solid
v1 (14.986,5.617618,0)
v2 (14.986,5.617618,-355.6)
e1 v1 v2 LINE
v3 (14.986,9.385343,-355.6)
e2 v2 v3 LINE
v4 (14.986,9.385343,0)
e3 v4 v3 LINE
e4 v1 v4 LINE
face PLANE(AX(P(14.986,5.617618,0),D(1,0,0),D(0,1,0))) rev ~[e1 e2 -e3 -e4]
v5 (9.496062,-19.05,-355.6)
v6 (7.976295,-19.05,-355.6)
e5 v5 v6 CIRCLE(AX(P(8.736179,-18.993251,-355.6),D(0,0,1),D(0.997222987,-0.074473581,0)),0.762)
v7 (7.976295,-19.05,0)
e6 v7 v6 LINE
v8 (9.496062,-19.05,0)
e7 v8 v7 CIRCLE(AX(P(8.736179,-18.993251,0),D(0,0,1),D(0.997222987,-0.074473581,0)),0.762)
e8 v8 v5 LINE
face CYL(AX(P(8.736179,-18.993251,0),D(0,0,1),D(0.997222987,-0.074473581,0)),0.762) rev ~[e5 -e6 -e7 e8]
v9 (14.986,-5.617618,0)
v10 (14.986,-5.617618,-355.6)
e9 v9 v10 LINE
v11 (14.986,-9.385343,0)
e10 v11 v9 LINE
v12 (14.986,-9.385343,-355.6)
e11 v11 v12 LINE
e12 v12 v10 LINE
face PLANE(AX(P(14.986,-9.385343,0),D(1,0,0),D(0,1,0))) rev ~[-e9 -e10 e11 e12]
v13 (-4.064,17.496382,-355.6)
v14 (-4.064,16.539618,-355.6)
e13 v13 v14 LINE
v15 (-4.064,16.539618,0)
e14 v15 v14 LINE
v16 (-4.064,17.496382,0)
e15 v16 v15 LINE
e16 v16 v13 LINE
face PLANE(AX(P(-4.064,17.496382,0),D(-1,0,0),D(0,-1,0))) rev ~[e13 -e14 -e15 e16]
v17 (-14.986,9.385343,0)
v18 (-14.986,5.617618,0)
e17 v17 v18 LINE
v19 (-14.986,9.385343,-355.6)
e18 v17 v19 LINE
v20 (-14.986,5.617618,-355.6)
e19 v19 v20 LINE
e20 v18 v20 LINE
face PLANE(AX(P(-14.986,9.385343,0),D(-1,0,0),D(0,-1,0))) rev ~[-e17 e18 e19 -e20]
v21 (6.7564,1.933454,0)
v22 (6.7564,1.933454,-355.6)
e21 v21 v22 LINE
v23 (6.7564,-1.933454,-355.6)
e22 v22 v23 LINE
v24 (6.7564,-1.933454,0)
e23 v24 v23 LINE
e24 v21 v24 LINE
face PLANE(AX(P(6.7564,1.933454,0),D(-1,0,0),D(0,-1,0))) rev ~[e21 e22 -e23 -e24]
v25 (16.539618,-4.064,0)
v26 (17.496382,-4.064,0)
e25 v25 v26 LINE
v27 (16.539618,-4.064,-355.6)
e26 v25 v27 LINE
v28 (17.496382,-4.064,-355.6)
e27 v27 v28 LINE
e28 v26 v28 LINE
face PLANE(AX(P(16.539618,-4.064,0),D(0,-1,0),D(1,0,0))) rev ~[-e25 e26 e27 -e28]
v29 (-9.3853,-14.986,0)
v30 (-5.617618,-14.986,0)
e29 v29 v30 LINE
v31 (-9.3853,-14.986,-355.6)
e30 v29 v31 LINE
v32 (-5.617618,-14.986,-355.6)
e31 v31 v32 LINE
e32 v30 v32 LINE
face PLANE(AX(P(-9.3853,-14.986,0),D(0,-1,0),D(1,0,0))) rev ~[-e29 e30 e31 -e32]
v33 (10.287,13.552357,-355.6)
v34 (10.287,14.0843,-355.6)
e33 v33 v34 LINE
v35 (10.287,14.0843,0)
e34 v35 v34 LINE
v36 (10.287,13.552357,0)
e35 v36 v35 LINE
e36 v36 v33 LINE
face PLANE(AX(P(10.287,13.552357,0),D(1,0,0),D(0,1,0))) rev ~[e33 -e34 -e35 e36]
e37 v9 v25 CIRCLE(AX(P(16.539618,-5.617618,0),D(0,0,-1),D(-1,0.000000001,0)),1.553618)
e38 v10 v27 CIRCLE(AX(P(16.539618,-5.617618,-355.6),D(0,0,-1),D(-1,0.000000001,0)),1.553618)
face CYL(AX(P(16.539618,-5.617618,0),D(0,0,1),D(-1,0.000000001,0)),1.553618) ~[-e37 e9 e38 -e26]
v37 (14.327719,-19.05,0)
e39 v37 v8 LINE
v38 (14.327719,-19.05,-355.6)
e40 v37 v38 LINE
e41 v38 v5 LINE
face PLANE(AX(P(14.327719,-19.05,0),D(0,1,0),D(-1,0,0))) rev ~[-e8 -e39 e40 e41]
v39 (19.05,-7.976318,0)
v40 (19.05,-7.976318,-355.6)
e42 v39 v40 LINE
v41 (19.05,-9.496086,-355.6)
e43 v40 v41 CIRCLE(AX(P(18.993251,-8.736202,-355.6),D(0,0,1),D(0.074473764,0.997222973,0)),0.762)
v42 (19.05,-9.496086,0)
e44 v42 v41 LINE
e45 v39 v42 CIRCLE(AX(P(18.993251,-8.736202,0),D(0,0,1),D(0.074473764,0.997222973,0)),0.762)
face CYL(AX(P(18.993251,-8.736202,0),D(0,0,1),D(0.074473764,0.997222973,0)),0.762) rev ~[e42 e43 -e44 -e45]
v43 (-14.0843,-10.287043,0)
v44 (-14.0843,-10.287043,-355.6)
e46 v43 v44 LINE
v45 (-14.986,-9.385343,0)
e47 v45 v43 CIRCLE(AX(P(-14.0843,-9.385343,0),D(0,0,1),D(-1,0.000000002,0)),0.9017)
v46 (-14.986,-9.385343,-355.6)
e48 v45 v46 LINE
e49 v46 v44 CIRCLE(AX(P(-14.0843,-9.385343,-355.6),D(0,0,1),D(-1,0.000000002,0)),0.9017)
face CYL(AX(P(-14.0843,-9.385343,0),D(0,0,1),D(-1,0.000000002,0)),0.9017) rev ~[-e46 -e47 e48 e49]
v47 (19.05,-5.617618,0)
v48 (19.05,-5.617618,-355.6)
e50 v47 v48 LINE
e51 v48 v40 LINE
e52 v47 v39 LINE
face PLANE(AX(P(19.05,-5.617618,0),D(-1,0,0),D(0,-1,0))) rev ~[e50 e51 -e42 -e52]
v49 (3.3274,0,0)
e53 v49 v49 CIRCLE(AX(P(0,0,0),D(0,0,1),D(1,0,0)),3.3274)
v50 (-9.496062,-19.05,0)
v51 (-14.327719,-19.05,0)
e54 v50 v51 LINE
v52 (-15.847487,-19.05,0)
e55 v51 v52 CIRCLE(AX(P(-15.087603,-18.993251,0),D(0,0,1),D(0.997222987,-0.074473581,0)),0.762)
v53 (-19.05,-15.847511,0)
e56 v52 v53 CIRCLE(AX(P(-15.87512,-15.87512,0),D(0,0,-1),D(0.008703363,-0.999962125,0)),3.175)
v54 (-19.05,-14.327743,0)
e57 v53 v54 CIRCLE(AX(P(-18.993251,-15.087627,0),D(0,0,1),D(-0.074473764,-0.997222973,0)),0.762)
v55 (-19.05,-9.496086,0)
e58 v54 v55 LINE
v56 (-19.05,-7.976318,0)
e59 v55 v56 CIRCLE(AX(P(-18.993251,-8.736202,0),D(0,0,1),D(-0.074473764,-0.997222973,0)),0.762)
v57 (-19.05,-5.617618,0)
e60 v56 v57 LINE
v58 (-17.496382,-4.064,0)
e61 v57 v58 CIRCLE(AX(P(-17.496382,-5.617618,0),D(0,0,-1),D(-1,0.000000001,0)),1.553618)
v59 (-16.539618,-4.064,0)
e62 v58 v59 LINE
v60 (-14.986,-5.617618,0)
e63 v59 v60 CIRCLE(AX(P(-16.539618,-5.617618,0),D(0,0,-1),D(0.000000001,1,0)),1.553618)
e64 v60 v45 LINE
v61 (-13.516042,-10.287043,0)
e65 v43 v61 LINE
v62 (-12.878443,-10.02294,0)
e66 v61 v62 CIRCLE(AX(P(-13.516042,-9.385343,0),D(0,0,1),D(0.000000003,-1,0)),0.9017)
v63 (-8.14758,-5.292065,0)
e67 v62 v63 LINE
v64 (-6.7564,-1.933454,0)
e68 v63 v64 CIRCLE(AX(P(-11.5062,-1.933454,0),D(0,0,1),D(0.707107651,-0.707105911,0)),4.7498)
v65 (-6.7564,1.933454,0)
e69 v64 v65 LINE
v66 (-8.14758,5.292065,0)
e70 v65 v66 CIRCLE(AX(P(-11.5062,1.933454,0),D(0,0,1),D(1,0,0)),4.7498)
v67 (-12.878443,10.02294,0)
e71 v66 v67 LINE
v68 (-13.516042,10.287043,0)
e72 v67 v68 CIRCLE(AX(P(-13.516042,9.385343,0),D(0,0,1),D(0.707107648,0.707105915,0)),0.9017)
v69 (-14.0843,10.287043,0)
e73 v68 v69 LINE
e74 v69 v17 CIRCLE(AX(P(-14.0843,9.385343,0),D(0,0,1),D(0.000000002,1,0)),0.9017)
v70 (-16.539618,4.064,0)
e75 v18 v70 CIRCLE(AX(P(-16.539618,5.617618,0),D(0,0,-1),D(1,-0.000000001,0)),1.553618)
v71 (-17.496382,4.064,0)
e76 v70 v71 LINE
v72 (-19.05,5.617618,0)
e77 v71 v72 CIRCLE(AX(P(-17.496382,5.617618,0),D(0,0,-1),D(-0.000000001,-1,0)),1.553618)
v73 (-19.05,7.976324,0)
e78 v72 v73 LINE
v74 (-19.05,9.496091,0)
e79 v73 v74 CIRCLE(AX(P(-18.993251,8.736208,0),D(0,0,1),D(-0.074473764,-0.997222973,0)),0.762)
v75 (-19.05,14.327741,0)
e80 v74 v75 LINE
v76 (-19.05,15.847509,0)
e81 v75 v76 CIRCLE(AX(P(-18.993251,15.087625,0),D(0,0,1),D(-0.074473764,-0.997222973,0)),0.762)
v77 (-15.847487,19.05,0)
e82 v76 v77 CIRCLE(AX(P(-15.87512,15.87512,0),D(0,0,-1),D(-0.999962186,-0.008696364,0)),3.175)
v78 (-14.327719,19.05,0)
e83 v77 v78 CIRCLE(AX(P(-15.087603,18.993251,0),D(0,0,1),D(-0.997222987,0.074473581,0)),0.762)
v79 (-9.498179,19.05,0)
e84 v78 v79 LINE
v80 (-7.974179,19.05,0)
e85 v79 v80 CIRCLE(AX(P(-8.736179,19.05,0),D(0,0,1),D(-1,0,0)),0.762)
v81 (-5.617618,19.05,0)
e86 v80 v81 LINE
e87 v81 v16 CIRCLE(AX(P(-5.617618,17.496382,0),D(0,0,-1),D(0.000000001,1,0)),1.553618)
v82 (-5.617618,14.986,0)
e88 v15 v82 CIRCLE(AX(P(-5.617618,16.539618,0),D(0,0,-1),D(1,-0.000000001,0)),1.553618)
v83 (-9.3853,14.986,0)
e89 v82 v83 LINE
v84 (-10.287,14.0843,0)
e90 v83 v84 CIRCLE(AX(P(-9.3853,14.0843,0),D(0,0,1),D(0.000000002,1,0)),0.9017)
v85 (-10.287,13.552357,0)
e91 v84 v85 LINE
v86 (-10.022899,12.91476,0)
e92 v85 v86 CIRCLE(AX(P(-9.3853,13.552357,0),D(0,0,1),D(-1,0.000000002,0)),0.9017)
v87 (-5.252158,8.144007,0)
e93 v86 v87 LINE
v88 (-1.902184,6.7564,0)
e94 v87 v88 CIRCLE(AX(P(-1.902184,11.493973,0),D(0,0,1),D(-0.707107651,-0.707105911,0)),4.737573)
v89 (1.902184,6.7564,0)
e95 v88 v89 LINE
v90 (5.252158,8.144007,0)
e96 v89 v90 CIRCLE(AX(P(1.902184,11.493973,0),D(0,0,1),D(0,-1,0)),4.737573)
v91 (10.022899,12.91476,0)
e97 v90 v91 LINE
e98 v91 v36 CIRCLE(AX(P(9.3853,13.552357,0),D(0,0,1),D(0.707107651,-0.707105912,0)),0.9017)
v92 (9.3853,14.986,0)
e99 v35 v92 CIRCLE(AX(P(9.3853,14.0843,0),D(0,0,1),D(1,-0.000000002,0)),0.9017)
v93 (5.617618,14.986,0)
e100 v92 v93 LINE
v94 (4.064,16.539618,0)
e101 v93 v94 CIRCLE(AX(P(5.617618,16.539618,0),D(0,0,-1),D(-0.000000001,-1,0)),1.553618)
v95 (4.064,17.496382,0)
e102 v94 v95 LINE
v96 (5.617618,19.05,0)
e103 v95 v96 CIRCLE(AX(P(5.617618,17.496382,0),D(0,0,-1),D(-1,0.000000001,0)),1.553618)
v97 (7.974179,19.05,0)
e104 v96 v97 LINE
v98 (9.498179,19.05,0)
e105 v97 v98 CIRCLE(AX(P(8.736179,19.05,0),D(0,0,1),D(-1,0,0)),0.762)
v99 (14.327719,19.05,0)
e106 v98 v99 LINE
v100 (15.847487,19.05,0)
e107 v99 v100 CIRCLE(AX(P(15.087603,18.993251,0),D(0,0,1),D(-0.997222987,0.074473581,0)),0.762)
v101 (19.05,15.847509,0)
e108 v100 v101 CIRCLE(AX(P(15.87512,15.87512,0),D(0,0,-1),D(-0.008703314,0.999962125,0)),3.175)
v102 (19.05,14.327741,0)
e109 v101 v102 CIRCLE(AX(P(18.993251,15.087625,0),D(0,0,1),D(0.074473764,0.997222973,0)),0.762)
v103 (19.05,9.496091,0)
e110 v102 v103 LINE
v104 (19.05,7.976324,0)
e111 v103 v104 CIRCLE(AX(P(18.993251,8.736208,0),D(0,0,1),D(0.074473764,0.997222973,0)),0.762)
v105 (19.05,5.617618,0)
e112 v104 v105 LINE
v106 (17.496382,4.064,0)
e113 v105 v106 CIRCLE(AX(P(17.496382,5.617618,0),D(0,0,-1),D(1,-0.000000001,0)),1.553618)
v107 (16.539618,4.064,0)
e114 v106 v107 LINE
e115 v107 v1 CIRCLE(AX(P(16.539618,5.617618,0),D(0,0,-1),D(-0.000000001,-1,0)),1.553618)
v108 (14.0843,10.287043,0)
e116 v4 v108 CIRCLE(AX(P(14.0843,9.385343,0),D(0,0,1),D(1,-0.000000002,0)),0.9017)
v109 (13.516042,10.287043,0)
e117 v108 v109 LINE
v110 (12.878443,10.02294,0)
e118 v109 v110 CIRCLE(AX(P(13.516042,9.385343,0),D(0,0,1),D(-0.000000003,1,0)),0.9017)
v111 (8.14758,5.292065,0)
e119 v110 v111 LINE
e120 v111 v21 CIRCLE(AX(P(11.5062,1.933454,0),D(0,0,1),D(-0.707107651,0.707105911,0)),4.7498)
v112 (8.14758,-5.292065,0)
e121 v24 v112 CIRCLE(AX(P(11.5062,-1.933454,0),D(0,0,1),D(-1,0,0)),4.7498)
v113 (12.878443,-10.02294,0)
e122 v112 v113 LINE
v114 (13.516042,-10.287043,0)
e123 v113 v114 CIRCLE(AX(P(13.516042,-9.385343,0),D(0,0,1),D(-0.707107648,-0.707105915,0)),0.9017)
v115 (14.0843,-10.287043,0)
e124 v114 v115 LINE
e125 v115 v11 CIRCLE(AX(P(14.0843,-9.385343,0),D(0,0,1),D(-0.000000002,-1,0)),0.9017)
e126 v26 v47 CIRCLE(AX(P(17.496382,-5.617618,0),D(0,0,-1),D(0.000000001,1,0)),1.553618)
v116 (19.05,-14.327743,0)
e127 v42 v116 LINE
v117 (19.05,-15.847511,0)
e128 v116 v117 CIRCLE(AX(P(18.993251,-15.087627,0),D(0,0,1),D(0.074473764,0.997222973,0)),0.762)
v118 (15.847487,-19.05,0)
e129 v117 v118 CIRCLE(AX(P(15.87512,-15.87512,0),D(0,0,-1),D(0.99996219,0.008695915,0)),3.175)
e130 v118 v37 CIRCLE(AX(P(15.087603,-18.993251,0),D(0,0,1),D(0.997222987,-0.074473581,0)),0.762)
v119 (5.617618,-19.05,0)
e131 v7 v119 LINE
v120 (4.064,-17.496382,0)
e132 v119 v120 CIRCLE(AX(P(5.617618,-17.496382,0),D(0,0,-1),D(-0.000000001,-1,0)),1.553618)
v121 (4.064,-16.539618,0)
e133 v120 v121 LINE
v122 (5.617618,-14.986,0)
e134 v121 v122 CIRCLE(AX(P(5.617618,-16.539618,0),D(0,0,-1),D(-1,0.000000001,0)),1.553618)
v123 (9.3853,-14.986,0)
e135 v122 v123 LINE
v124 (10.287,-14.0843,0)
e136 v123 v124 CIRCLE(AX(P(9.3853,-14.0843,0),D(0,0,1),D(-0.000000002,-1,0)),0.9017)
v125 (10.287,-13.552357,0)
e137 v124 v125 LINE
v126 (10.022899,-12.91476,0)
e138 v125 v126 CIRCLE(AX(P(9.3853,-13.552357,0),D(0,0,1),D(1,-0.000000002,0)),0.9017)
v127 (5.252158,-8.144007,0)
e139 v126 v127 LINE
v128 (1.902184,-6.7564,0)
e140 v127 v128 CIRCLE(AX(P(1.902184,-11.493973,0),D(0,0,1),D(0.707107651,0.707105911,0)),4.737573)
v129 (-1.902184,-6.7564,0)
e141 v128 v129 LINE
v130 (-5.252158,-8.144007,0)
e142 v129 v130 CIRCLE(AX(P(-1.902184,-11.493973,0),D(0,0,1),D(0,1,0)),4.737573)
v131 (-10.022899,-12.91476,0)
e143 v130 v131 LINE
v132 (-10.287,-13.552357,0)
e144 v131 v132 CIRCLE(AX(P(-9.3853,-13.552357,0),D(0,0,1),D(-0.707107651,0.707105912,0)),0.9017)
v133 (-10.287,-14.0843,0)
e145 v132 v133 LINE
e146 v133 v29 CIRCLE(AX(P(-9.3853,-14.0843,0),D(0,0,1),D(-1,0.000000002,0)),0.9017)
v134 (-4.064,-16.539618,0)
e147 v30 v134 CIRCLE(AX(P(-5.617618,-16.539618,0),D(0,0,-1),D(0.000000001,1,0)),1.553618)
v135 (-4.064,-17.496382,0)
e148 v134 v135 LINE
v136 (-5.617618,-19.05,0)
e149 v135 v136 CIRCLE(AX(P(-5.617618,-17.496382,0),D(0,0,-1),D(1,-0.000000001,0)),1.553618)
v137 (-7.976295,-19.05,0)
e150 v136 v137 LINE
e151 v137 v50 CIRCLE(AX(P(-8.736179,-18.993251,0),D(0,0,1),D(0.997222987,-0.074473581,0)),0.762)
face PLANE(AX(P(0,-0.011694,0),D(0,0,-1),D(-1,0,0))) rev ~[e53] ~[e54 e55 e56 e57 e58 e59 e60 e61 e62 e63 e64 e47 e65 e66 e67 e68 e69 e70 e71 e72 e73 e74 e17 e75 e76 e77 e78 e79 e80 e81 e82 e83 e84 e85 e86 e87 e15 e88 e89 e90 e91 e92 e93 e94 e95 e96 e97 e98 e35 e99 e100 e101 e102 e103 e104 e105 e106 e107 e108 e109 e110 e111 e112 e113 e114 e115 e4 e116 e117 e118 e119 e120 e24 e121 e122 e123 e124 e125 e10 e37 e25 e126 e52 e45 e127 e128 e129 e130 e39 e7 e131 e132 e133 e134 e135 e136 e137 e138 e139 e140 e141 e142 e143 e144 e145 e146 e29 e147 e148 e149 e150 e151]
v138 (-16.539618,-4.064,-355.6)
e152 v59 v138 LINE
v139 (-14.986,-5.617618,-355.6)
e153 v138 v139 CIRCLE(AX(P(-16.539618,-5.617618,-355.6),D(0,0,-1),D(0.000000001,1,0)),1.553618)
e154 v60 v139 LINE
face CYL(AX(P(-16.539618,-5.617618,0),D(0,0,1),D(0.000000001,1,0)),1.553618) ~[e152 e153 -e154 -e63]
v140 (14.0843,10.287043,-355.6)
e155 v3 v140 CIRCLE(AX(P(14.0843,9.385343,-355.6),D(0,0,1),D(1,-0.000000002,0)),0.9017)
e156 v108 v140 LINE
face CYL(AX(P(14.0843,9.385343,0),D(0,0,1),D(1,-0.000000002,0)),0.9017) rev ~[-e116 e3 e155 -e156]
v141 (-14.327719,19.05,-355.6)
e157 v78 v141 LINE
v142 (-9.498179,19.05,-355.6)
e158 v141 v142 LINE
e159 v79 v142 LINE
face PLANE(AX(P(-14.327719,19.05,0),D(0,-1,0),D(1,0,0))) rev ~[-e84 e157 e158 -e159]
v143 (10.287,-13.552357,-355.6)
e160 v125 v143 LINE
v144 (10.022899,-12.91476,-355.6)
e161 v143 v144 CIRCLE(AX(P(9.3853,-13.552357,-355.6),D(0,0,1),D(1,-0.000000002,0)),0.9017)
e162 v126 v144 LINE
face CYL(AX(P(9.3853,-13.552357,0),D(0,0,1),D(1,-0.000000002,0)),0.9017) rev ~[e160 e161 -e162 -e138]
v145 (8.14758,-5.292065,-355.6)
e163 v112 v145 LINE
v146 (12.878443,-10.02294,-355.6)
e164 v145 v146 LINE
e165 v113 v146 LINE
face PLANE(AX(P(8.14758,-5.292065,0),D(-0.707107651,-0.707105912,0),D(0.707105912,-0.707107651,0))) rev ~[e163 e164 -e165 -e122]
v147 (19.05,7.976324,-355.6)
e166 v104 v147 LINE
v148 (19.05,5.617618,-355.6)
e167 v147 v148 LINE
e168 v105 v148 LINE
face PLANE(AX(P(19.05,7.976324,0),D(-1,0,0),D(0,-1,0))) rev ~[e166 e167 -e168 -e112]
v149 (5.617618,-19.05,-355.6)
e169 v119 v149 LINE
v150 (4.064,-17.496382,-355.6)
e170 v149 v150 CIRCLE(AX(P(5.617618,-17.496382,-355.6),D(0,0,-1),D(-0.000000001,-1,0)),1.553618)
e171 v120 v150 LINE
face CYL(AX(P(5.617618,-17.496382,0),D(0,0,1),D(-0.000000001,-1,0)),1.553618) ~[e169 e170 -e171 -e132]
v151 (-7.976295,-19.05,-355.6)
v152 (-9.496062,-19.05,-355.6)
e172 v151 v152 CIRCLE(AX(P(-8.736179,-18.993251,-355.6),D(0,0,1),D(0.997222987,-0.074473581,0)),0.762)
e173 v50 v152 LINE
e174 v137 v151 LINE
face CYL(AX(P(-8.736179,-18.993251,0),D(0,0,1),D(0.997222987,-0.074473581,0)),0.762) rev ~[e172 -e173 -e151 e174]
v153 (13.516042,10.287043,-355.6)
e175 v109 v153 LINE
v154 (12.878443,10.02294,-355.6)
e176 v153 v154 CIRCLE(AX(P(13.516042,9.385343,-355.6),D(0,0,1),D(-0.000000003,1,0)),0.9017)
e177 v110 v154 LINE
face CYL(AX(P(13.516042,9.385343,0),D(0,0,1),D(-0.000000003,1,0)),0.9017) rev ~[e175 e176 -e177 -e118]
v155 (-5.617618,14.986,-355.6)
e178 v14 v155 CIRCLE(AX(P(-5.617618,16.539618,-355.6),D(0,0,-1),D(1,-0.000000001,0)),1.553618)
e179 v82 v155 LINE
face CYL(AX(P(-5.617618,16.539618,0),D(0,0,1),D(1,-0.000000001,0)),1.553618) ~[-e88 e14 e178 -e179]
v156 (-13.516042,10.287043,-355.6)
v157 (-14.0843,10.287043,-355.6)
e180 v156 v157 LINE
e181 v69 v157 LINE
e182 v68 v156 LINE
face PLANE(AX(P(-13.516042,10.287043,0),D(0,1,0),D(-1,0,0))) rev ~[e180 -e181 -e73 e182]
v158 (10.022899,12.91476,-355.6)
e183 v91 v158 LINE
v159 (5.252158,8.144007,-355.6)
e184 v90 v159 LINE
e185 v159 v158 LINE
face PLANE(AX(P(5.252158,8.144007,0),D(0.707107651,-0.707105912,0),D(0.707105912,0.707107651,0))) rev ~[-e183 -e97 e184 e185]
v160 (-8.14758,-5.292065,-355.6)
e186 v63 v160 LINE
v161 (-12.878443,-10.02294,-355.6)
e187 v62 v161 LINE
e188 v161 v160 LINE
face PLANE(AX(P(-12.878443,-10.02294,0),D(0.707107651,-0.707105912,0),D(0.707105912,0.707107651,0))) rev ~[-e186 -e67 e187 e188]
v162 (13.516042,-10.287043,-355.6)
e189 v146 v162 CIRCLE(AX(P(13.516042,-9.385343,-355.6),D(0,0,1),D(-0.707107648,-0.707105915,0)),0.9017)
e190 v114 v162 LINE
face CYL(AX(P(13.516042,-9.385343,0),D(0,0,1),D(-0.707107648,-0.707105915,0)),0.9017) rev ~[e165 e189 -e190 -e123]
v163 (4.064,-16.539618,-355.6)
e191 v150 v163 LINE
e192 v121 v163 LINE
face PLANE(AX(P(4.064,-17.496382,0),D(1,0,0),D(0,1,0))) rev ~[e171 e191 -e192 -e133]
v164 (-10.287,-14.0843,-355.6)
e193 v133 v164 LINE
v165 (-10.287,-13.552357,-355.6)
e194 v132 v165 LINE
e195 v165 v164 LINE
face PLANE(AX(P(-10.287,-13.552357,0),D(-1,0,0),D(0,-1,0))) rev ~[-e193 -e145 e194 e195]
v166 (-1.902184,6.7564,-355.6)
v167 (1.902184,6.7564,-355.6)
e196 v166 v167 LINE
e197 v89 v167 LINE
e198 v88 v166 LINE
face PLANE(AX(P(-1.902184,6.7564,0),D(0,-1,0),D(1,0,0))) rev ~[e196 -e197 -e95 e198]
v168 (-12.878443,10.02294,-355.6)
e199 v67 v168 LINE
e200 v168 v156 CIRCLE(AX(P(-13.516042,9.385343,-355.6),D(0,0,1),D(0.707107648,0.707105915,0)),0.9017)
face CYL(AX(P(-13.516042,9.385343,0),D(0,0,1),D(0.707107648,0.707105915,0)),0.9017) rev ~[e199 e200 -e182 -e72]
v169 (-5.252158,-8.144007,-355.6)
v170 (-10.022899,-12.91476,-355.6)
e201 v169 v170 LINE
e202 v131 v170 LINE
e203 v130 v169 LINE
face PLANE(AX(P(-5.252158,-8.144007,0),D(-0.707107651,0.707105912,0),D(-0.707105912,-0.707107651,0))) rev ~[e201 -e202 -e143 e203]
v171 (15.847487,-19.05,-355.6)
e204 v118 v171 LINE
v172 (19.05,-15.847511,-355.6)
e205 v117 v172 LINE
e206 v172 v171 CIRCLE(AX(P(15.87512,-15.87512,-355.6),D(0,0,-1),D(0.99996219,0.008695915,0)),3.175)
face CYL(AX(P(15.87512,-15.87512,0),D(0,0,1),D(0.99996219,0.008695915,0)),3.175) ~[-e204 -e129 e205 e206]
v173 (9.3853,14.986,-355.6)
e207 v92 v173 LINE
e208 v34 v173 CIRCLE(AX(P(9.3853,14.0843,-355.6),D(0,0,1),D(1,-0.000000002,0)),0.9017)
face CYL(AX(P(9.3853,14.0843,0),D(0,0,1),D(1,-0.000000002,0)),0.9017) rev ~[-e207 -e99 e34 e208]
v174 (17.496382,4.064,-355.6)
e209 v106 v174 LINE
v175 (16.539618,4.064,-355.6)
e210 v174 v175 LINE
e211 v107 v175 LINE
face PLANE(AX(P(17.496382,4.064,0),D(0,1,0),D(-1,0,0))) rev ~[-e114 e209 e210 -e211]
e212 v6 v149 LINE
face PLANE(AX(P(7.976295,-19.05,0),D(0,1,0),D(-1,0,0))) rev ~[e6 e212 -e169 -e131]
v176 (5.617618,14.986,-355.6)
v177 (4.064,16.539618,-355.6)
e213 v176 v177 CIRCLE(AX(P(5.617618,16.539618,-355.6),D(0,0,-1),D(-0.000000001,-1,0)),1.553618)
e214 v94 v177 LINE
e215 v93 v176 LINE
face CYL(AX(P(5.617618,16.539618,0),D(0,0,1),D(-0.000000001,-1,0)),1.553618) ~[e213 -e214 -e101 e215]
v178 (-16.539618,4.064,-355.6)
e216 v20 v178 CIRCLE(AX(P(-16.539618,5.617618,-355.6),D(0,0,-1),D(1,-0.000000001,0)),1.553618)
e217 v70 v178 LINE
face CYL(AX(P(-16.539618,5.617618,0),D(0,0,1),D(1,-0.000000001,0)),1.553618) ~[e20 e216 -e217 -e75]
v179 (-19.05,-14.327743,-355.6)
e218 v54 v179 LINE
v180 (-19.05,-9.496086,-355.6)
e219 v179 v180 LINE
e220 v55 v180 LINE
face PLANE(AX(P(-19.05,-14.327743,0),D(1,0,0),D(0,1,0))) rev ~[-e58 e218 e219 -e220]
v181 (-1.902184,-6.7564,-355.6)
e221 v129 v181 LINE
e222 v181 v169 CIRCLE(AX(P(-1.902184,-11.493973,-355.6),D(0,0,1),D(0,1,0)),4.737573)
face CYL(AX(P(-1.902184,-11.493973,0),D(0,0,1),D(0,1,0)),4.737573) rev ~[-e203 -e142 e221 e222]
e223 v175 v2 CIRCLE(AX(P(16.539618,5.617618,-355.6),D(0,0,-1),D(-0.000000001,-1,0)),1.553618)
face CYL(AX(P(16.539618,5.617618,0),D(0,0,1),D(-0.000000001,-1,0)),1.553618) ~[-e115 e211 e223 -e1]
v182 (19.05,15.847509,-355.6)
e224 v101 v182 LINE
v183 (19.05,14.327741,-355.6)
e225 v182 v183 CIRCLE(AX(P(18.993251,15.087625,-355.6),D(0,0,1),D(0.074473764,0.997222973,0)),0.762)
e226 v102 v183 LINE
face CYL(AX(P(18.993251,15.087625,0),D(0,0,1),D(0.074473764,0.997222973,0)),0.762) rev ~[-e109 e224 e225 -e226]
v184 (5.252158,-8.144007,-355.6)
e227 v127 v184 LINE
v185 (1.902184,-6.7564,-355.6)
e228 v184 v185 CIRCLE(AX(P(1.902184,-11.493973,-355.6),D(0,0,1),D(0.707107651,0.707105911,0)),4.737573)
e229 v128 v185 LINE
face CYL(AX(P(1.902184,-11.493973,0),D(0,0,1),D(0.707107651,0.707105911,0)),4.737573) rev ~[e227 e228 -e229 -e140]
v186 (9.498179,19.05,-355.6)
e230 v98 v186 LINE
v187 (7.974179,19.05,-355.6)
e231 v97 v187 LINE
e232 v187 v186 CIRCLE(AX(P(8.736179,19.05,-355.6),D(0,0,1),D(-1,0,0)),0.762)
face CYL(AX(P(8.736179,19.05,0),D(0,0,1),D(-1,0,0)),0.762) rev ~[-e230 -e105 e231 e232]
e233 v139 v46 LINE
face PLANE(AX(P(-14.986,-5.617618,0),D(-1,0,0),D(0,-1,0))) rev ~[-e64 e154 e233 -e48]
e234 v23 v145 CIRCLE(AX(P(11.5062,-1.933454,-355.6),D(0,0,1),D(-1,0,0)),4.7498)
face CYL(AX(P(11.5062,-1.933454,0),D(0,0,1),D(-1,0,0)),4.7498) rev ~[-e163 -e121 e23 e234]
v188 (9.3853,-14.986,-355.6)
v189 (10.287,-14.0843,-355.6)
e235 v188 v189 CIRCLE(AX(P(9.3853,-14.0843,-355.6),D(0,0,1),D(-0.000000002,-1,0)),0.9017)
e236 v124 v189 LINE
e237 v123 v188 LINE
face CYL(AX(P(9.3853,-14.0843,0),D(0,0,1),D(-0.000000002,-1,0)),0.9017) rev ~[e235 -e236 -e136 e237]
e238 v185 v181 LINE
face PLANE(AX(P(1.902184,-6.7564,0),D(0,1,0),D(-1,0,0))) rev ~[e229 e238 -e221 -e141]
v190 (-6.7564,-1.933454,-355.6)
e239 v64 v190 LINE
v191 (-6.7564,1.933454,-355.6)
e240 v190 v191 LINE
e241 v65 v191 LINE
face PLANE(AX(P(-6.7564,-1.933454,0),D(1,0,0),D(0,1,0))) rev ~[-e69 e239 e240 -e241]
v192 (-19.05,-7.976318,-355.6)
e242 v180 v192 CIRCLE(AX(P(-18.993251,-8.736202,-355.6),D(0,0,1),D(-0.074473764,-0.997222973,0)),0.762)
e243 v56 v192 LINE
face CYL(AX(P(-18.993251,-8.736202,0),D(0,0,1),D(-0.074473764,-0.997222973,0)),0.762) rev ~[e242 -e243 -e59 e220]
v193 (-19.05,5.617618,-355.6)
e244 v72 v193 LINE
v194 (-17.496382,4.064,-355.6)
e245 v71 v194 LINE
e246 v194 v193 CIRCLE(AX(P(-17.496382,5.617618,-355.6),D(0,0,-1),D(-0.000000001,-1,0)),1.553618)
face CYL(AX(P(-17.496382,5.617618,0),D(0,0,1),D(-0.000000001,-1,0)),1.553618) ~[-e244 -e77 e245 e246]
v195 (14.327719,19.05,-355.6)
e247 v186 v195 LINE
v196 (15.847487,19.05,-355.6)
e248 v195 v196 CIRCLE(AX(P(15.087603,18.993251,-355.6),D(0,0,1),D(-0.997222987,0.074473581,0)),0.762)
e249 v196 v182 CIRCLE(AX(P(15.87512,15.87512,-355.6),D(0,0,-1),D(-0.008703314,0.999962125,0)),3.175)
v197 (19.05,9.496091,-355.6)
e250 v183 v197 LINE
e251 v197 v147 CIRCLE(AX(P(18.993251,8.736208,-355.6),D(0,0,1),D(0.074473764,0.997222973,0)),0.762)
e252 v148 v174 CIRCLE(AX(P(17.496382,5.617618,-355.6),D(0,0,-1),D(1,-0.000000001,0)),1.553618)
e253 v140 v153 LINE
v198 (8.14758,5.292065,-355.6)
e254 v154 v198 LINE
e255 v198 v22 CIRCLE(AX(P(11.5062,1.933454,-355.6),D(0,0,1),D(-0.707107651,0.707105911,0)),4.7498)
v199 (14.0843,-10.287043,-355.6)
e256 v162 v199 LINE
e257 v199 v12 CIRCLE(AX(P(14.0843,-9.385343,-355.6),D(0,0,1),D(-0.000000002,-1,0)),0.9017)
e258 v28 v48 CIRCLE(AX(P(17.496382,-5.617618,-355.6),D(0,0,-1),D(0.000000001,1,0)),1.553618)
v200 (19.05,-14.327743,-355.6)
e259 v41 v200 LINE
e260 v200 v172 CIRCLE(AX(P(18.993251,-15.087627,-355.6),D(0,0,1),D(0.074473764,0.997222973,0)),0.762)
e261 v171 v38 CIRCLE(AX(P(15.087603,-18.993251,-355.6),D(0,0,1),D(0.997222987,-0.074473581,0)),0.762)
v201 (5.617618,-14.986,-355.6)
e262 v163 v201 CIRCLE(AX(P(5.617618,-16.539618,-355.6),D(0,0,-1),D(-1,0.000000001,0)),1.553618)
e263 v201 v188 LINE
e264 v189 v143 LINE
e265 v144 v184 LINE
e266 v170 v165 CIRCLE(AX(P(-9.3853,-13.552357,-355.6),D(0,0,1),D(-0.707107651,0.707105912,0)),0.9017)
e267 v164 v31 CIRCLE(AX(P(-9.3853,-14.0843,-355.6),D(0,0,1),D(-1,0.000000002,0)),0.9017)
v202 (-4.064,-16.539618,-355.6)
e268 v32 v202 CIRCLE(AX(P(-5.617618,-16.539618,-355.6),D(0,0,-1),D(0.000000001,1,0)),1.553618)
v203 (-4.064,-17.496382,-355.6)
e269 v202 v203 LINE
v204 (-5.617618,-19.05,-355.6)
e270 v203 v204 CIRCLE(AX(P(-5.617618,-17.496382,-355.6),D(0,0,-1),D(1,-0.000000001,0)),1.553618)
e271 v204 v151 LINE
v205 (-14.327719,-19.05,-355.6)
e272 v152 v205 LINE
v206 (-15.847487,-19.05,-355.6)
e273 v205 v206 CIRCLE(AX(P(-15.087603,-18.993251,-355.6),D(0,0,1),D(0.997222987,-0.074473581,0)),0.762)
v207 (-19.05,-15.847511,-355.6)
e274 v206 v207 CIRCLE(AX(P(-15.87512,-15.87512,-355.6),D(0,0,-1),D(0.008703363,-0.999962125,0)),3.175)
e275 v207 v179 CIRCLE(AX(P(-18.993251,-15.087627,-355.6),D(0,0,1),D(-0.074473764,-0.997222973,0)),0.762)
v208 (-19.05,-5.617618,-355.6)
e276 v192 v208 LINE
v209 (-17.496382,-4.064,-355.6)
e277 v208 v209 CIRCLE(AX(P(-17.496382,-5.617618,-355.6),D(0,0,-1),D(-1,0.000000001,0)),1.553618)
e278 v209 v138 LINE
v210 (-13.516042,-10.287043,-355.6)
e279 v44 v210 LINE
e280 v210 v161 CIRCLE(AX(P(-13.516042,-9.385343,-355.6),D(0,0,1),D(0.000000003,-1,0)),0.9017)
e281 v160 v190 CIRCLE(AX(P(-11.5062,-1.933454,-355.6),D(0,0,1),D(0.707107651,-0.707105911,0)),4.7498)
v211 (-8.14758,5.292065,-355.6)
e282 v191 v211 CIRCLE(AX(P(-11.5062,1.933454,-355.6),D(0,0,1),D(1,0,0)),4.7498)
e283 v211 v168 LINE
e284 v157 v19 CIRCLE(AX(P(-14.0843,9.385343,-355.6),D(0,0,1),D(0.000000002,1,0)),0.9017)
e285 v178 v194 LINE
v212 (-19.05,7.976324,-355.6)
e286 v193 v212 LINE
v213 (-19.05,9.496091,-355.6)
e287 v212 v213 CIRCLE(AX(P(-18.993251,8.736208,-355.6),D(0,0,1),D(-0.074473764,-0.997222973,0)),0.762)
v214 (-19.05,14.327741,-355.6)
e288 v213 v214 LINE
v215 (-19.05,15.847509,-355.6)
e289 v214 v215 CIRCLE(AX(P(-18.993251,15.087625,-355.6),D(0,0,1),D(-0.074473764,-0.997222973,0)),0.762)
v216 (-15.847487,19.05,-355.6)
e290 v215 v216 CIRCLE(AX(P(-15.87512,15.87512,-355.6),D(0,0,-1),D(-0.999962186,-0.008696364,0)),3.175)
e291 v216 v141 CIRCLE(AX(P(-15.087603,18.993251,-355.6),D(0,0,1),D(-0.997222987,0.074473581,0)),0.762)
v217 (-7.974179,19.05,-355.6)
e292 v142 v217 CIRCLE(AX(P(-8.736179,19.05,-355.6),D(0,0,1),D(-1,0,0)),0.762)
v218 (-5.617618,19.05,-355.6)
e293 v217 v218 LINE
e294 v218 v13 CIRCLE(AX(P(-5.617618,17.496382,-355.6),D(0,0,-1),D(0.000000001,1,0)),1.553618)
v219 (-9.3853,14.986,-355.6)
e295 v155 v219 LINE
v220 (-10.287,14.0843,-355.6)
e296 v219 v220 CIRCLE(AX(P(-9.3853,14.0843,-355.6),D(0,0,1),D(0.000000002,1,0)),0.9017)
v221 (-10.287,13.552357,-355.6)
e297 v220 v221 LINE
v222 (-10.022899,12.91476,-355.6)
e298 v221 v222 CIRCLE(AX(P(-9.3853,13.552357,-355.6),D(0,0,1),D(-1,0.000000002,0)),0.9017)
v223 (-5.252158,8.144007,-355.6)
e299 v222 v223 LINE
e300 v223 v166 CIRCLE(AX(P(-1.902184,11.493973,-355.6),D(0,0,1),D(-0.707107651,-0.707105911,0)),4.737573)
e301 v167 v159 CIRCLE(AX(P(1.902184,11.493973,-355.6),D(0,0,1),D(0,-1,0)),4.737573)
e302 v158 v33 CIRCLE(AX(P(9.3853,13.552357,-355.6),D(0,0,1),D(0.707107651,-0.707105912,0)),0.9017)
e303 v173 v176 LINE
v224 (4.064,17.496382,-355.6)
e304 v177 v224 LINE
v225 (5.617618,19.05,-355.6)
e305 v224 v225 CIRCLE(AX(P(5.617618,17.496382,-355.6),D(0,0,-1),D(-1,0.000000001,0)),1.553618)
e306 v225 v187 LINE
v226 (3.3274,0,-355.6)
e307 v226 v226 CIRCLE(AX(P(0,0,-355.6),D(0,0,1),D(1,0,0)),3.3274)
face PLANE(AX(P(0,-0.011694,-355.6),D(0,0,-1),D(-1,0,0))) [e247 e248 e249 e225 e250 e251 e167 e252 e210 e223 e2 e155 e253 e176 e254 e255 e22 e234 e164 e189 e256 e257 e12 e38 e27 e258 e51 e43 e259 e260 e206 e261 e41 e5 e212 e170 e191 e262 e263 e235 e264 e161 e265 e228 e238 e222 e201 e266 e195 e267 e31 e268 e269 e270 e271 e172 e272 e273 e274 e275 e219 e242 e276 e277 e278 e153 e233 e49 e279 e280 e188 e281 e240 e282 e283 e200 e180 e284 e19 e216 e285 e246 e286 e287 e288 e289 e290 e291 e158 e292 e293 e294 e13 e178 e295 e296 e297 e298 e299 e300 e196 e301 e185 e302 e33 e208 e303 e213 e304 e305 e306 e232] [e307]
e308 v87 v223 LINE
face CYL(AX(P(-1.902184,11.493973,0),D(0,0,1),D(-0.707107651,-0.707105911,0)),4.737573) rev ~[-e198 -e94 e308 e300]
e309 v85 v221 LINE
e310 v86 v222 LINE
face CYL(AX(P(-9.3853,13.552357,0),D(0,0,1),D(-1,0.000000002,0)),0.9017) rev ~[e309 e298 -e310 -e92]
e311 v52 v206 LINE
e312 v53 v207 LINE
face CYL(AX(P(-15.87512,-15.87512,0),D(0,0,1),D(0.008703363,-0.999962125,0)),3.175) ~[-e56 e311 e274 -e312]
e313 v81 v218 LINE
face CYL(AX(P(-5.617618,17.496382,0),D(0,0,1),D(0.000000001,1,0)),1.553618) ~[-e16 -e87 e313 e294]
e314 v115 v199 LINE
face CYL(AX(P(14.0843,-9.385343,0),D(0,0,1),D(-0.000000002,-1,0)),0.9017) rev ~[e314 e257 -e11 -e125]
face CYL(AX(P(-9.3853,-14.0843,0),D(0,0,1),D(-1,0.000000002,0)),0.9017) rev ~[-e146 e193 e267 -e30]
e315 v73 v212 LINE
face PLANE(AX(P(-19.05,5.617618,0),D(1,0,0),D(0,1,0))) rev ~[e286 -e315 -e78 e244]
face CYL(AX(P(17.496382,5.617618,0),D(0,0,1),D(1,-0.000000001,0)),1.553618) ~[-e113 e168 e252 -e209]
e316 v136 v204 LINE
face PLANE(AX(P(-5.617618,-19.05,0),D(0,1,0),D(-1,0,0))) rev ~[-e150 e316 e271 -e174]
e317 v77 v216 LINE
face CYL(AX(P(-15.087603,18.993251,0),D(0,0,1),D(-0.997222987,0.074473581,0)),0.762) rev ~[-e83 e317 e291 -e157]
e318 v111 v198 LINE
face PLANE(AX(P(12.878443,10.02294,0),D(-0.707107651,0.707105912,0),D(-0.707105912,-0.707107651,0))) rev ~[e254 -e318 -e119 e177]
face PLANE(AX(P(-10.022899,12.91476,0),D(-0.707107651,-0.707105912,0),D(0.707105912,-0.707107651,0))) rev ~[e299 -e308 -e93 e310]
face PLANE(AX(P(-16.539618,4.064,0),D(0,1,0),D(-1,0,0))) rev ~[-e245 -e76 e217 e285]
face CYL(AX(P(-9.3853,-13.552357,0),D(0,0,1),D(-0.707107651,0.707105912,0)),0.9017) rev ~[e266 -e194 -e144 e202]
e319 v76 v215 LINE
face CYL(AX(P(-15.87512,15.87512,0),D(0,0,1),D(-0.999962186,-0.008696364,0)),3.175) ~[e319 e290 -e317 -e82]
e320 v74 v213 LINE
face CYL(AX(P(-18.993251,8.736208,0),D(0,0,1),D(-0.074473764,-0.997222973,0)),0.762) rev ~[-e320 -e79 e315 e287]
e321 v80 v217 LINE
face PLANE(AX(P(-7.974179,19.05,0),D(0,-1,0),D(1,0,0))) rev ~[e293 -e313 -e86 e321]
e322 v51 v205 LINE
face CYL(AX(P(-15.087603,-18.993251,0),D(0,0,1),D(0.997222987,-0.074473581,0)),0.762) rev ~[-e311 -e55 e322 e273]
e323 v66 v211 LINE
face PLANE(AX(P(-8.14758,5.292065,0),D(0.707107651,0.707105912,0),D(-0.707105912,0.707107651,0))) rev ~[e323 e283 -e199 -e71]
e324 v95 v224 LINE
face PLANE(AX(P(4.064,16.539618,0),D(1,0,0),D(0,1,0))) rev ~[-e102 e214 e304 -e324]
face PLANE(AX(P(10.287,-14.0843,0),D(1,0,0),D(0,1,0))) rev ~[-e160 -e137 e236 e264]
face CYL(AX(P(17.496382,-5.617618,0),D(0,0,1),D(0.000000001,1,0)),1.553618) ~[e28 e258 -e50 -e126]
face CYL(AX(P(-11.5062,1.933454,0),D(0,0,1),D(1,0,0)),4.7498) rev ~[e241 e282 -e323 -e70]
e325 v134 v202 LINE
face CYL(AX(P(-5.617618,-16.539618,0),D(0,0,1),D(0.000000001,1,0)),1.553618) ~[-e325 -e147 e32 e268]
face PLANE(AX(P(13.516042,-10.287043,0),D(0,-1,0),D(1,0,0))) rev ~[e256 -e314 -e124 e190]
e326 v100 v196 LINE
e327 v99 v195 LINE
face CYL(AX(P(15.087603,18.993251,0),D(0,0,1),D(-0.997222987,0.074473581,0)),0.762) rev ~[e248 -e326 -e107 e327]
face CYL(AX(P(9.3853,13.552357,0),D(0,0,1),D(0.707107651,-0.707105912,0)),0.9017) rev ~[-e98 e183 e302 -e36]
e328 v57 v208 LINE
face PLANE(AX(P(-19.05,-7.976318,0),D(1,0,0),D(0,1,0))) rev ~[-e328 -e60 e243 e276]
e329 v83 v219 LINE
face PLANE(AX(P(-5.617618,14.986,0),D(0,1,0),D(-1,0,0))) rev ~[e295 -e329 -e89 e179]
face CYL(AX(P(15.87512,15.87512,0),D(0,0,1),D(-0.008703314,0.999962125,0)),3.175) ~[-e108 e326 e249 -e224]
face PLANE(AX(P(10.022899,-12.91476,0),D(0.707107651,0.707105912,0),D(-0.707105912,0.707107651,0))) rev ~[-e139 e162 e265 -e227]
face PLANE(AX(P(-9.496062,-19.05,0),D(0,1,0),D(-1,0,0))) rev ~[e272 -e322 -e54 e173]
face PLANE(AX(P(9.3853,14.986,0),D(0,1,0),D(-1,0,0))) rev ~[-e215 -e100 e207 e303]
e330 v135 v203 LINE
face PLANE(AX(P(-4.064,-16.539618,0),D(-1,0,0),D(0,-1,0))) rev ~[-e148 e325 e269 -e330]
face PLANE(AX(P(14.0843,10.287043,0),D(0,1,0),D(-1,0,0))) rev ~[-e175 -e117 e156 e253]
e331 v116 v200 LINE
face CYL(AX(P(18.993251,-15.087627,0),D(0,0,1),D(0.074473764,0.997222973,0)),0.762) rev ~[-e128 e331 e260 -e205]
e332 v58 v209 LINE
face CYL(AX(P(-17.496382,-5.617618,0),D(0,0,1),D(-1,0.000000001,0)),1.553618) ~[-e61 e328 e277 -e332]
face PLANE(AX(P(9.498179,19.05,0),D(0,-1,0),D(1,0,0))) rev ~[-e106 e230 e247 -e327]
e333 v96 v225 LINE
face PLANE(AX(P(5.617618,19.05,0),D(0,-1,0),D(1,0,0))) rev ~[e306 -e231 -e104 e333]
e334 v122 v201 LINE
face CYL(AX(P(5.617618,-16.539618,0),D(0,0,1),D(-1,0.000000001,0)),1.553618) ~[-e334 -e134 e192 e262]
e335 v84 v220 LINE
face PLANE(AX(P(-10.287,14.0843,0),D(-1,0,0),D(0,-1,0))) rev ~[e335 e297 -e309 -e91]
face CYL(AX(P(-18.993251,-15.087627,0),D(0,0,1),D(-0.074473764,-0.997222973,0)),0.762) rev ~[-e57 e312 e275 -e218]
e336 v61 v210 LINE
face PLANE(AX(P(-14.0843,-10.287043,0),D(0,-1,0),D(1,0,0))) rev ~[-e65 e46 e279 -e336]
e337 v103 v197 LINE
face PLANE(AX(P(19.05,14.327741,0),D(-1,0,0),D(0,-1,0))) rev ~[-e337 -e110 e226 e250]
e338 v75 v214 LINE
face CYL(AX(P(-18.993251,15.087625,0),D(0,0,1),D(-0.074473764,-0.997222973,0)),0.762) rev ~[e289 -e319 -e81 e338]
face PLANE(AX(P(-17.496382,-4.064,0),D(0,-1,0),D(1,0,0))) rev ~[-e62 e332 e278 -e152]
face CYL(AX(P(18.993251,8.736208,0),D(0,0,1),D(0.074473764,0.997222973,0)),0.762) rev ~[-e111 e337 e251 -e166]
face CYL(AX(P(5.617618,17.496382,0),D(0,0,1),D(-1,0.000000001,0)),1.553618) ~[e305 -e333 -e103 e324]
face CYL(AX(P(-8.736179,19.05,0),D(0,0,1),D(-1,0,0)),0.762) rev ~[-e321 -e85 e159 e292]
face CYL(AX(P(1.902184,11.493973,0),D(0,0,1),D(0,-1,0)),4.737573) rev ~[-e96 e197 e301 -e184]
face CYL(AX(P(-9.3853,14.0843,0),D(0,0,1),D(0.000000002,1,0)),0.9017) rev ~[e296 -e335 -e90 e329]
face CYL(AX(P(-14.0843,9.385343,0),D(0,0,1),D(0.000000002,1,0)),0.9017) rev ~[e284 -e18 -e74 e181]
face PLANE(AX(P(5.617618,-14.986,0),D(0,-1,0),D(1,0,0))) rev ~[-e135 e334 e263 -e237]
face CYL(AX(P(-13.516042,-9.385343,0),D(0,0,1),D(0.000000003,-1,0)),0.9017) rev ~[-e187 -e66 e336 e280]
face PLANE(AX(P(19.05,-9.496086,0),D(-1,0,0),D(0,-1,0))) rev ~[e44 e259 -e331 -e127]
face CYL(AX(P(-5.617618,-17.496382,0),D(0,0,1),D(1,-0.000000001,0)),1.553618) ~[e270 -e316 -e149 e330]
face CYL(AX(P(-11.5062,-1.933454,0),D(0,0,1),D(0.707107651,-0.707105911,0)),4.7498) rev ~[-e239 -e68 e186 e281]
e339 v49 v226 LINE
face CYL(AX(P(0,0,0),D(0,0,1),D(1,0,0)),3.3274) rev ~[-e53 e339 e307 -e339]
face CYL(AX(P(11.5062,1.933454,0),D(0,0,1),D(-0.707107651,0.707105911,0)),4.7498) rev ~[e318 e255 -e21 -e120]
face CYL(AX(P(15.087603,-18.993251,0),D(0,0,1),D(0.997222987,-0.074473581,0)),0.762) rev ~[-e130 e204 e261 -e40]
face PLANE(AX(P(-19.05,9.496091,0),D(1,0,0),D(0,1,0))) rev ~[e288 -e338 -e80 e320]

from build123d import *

# Parameters (mm, degrees)
SKETCH1_R      = 3.3274
EXTRUDE1_DEPTH = 355.6


with BuildPart() as part:
    # Sketch1 → Extrude1 (new body)
    with BuildSketch(Plane.XY):
        with BuildLine():
            Line((-10.022898969, 12.91475973), (-5.252158105, 8.144007132))
            ThreePointArc((-5.252158105, 8.144007132), (-3.715177372, 7.117027388), (-1.902183975, 6.7564))
            Line((-1.902183975, 6.7564), (1.902183975, 6.7564))
            ThreePointArc((1.902183975, 6.7564), (3.715177372, 7.117027388), (5.252158105, 8.144007132))
            Line((5.252158105, 8.144007132), (10.022898969, 12.91475973))
            ThreePointArc((10.022898969, 12.91475973), (10.218362387, 13.207291992), (10.287, 13.552357131))
            Line((10.287, 13.552357131), (10.287, 14.0843))
            ThreePointArc((10.287, 14.0843), (10.022898185, 14.721898185), (9.3853, 14.986))
            Line((9.3853, 14.986), (5.617617549, 14.986))
            ThreePointArc((5.617617549, 14.986), (4.519044045, 15.441044045), (4.064, 16.539617549))
            Line((4.064, 16.539617549), (4.064, 17.496382451))
            ThreePointArc((4.064, 17.496382451), (4.519044045, 18.594955955), (5.617617549, 19.05))
            Line((5.617617549, 19.05), (7.974178704, 19.05))
            ThreePointArc((7.974178704, 19.05), (8.736178704, 18.288), (9.498178704, 19.05))
            Line((9.498178704, 19.05), (14.327719207, 19.05))
            ThreePointArc((14.327719207, 19.05), (15.087603123, 18.231251131), (15.847487039, 19.05))
            ThreePointArc((15.847487039, 19.05), (18.120176289, 18.120192083), (19.05, 15.847509295))
            ThreePointArc((19.05, 15.847509295), (18.231250992, 15.08762539), (19.05, 14.327741484))
            Line((19.05, 14.327741484), (19.05, 9.496091471))
            ThreePointArc((19.05, 9.496091471), (18.231250992, 8.736207565), (19.05, 7.97632366))
            Line((19.05, 7.97632366), (19.05, 5.617617549))
            ThreePointArc((19.05, 5.617617549), (18.594955955, 4.519044045), (17.496382451, 4.064))
            Line((17.496382451, 4.064), (16.539617549, 4.064))
            ThreePointArc((16.539617549, 4.064), (15.441044045, 4.519044045), (14.986, 5.617617549))
            Line((14.986, 5.617617549), (14.986, 9.385342516))
            ThreePointArc((14.986, 9.385342516), (14.721898185, 10.022940701), (14.0843, 10.287042516))
            Line((14.0843, 10.287042516), (13.516042086, 10.287042516))
            ThreePointArc((13.516042086, 10.287042516), (13.170975923, 10.218404478), (12.878443117, 10.022939917))
            Line((12.878443117, 10.022939917), (8.14758008, 5.292065243))
            ThreePointArc((8.14758008, 5.292065243), (7.117955879, 3.751120653), (6.7564, 1.933453584))
            Line((6.7564, 1.933453584), (6.7564, -1.933453584))
            ThreePointArc((6.7564, -1.933453584), (7.117955879, -3.751120653), (8.14758008, -5.292065243))
            Line((8.14758008, -5.292065243), (12.878443117, -10.022939917))
            ThreePointArc((12.878443117, -10.022939917), (13.170975923, -10.218404478), (13.516042086, -10.287042516))
            Line((13.516042086, -10.287042516), (14.0843, -10.287042516))
            ThreePointArc((14.0843, -10.287042516), (14.721898185, -10.022940701), (14.986, -9.385342516))
            Line((14.986, -9.385342516), (14.986, -5.617617549))
            ThreePointArc((14.986, -5.617617549), (15.441044045, -4.519044045), (16.539617549, -4.064))
            Line((16.539617549, -4.064), (17.496382451, -4.064))
            ThreePointArc((17.496382451, -4.064), (18.594955955, -4.519044045), (19.05, -5.617617549))
            Line((19.05, -5.617617549), (19.05, -7.976318491))
            ThreePointArc((19.05, -7.976318491), (18.231250992, -8.736202396), (19.05, -9.496086302))
            Line((19.05, -9.496086302), (19.05, -14.32774291))
            ThreePointArc((19.05, -14.32774291), (18.231250992, -15.087626816), (19.05, -15.847510721))
            ThreePointArc((19.05, -15.847510721), (18.120175716, -18.120192644), (15.847486868, -19.05))
            ThreePointArc((15.847486868, -19.05), (15.087602952, -18.231251131), (14.327719036, -19.05))
            Line((14.327719036, -19.05), (9.496062448, -19.05))
            ThreePointArc((9.496062448, -19.05), (8.736178532, -18.231251131), (7.976294616, -19.05))
            Line((7.976294616, -19.05), (5.617617549, -19.05))
            ThreePointArc((5.617617549, -19.05), (4.519044045, -18.594955955), (4.064, -17.496382451))
            Line((4.064, -17.496382451), (4.064, -16.539617549))
            ThreePointArc((4.064, -16.539617549), (4.519044045, -15.441044045), (5.617617549, -14.986))
            Line((5.617617549, -14.986), (9.3853, -14.986))
            ThreePointArc((9.3853, -14.986), (10.022898185, -14.721898185), (10.287, -14.0843))
            Line((10.287, -14.0843), (10.287, -13.552357131))
            ThreePointArc((10.287, -13.552357131), (10.218362387, -13.207291992), (10.022898969, -12.91475973))
            Line((10.022898969, -12.91475973), (5.252158105, -8.144007132))
            ThreePointArc((5.252158105, -8.144007132), (3.715177372, -7.117027388), (1.902183975, -6.7564))
            Line((1.902183975, -6.7564), (-1.902183975, -6.7564))
            ThreePointArc((-1.902183975, -6.7564), (-3.715177372, -7.117027388), (-5.252158105, -8.144007132))
            Line((-5.252158105, -8.144007132), (-10.022898969, -12.91475973))
            ThreePointArc((-10.022898969, -12.91475973), (-10.218362387, -13.207291992), (-10.287, -13.552357131))
            Line((-10.287, -13.552357131), (-10.287, -14.0843))
            ThreePointArc((-10.287, -14.0843), (-10.022898185, -14.721898185), (-9.3853, -14.986))
            Line((-9.3853, -14.986), (-5.617617549, -14.986))
            ThreePointArc((-5.617617549, -14.986), (-4.519044045, -15.441044045), (-4.064, -16.539617549))
            Line((-4.064, -16.539617549), (-4.064, -17.496382451))
            ThreePointArc((-4.064, -17.496382451), (-4.519044045, -18.594955955), (-5.617617549, -19.05))
            Line((-5.617617549, -19.05), (-7.976294616, -19.05))
            ThreePointArc((-7.976294616, -19.05), (-8.736178532, -18.231251131), (-9.496062448, -19.05))
            Line((-9.496062448, -19.05), (-14.327719036, -19.05))
            ThreePointArc((-14.327719036, -19.05), (-15.087602952, -18.231251131), (-15.847486868, -19.05))
            ThreePointArc((-15.847486868, -19.05), (-18.120175716, -18.120192644), (-19.05, -15.847510721))
            ThreePointArc((-19.05, -15.847510721), (-18.231250992, -15.087626816), (-19.05, -14.32774291))
            Line((-19.05, -14.32774291), (-19.05, -9.496086302))
            ThreePointArc((-19.05, -9.496086302), (-18.231250992, -8.736202396), (-19.05, -7.976318491))
            Line((-19.05, -7.976318491), (-19.05, -5.617617549))
            ThreePointArc((-19.05, -5.617617549), (-18.594955955, -4.519044045), (-17.496382451, -4.064))
            Line((-17.496382451, -4.064), (-16.539617549, -4.064))
            ThreePointArc((-16.539617549, -4.064), (-15.441044045, -4.519044045), (-14.986, -5.617617549))
            Line((-14.986, -5.617617549), (-14.986, -9.385342516))
            ThreePointArc((-14.986, -9.385342516), (-14.721898185, -10.022940701), (-14.0843, -10.287042516))
            Line((-14.0843, -10.287042516), (-13.516042086, -10.287042516))
            ThreePointArc((-13.516042086, -10.287042516), (-13.170975923, -10.218404478), (-12.878443117, -10.022939917))
            Line((-12.878443117, -10.022939917), (-8.14758008, -5.292065243))
            ThreePointArc((-8.14758008, -5.292065243), (-7.117955879, -3.751120653), (-6.7564, -1.933453584))
            Line((-6.7564, -1.933453584), (-6.7564, 1.933453584))
            ThreePointArc((-6.7564, 1.933453584), (-7.117955879, 3.751120653), (-8.14758008, 5.292065243))
            Line((-8.14758008, 5.292065243), (-12.878443117, 10.022939917))
            ThreePointArc((-12.878443117, 10.022939917), (-13.170975923, 10.218404478), (-13.516042086, 10.287042516))
            Line((-13.516042086, 10.287042516), (-14.0843, 10.287042516))
            ThreePointArc((-14.0843, 10.287042516), (-14.721898185, 10.022940701), (-14.986, 9.385342516))
            Line((-14.986, 9.385342516), (-14.986, 5.617617549))
            ThreePointArc((-14.986, 5.617617549), (-15.441044045, 4.519044045), (-16.539617549, 4.064))
            Line((-16.539617549, 4.064), (-17.496382451, 4.064))
            ThreePointArc((-17.496382451, 4.064), (-18.594955955, 4.519044045), (-19.05, 5.617617549))
            Line((-19.05, 5.617617549), (-19.05, 7.97632366))
            ThreePointArc((-19.05, 7.97632366), (-18.231250992, 8.736207565), (-19.05, 9.496091471))
            Line((-19.05, 9.496091471), (-19.05, 14.327741484))
            ThreePointArc((-19.05, 14.327741484), (-18.231250992, 15.08762539), (-19.05, 15.847509295))
            ThreePointArc((-19.05, 15.847509295), (-18.120176289, 18.120192083), (-15.847487039, 19.05))
            ThreePointArc((-15.847487039, 19.05), (-15.087603123, 18.231251131), (-14.327719207, 19.05))
            Line((-14.327719207, 19.05), (-9.498178704, 19.05))
            ThreePointArc((-9.498178704, 19.05), (-8.736178704, 18.288), (-7.974178704, 19.05))
            Line((-7.974178704, 19.05), (-5.617617549, 19.05))
            ThreePointArc((-5.617617549, 19.05), (-4.519044045, 18.594955955), (-4.064, 17.496382451))
            Line((-4.064, 17.496382451), (-4.064, 16.539617549))
            ThreePointArc((-4.064, 16.539617549), (-4.519044045, 15.441044045), (-5.617617549, 14.986))
            Line((-5.617617549, 14.986), (-9.3853, 14.986))
            ThreePointArc((-9.3853, 14.986), (-10.022898185, 14.721898185), (-10.287, 14.0843))
            Line((-10.287, 14.0843), (-10.287, 13.552357131))
            ThreePointArc((-10.287, 13.552357131), (-10.218362387, 13.207291992), (-10.022898969, 12.91475973))
        make_face()
        Circle(SKETCH1_R, mode=Mode.SUBTRACT)
    extrude(amount=-EXTRUDE1_DEPTH)


solid = part.part
